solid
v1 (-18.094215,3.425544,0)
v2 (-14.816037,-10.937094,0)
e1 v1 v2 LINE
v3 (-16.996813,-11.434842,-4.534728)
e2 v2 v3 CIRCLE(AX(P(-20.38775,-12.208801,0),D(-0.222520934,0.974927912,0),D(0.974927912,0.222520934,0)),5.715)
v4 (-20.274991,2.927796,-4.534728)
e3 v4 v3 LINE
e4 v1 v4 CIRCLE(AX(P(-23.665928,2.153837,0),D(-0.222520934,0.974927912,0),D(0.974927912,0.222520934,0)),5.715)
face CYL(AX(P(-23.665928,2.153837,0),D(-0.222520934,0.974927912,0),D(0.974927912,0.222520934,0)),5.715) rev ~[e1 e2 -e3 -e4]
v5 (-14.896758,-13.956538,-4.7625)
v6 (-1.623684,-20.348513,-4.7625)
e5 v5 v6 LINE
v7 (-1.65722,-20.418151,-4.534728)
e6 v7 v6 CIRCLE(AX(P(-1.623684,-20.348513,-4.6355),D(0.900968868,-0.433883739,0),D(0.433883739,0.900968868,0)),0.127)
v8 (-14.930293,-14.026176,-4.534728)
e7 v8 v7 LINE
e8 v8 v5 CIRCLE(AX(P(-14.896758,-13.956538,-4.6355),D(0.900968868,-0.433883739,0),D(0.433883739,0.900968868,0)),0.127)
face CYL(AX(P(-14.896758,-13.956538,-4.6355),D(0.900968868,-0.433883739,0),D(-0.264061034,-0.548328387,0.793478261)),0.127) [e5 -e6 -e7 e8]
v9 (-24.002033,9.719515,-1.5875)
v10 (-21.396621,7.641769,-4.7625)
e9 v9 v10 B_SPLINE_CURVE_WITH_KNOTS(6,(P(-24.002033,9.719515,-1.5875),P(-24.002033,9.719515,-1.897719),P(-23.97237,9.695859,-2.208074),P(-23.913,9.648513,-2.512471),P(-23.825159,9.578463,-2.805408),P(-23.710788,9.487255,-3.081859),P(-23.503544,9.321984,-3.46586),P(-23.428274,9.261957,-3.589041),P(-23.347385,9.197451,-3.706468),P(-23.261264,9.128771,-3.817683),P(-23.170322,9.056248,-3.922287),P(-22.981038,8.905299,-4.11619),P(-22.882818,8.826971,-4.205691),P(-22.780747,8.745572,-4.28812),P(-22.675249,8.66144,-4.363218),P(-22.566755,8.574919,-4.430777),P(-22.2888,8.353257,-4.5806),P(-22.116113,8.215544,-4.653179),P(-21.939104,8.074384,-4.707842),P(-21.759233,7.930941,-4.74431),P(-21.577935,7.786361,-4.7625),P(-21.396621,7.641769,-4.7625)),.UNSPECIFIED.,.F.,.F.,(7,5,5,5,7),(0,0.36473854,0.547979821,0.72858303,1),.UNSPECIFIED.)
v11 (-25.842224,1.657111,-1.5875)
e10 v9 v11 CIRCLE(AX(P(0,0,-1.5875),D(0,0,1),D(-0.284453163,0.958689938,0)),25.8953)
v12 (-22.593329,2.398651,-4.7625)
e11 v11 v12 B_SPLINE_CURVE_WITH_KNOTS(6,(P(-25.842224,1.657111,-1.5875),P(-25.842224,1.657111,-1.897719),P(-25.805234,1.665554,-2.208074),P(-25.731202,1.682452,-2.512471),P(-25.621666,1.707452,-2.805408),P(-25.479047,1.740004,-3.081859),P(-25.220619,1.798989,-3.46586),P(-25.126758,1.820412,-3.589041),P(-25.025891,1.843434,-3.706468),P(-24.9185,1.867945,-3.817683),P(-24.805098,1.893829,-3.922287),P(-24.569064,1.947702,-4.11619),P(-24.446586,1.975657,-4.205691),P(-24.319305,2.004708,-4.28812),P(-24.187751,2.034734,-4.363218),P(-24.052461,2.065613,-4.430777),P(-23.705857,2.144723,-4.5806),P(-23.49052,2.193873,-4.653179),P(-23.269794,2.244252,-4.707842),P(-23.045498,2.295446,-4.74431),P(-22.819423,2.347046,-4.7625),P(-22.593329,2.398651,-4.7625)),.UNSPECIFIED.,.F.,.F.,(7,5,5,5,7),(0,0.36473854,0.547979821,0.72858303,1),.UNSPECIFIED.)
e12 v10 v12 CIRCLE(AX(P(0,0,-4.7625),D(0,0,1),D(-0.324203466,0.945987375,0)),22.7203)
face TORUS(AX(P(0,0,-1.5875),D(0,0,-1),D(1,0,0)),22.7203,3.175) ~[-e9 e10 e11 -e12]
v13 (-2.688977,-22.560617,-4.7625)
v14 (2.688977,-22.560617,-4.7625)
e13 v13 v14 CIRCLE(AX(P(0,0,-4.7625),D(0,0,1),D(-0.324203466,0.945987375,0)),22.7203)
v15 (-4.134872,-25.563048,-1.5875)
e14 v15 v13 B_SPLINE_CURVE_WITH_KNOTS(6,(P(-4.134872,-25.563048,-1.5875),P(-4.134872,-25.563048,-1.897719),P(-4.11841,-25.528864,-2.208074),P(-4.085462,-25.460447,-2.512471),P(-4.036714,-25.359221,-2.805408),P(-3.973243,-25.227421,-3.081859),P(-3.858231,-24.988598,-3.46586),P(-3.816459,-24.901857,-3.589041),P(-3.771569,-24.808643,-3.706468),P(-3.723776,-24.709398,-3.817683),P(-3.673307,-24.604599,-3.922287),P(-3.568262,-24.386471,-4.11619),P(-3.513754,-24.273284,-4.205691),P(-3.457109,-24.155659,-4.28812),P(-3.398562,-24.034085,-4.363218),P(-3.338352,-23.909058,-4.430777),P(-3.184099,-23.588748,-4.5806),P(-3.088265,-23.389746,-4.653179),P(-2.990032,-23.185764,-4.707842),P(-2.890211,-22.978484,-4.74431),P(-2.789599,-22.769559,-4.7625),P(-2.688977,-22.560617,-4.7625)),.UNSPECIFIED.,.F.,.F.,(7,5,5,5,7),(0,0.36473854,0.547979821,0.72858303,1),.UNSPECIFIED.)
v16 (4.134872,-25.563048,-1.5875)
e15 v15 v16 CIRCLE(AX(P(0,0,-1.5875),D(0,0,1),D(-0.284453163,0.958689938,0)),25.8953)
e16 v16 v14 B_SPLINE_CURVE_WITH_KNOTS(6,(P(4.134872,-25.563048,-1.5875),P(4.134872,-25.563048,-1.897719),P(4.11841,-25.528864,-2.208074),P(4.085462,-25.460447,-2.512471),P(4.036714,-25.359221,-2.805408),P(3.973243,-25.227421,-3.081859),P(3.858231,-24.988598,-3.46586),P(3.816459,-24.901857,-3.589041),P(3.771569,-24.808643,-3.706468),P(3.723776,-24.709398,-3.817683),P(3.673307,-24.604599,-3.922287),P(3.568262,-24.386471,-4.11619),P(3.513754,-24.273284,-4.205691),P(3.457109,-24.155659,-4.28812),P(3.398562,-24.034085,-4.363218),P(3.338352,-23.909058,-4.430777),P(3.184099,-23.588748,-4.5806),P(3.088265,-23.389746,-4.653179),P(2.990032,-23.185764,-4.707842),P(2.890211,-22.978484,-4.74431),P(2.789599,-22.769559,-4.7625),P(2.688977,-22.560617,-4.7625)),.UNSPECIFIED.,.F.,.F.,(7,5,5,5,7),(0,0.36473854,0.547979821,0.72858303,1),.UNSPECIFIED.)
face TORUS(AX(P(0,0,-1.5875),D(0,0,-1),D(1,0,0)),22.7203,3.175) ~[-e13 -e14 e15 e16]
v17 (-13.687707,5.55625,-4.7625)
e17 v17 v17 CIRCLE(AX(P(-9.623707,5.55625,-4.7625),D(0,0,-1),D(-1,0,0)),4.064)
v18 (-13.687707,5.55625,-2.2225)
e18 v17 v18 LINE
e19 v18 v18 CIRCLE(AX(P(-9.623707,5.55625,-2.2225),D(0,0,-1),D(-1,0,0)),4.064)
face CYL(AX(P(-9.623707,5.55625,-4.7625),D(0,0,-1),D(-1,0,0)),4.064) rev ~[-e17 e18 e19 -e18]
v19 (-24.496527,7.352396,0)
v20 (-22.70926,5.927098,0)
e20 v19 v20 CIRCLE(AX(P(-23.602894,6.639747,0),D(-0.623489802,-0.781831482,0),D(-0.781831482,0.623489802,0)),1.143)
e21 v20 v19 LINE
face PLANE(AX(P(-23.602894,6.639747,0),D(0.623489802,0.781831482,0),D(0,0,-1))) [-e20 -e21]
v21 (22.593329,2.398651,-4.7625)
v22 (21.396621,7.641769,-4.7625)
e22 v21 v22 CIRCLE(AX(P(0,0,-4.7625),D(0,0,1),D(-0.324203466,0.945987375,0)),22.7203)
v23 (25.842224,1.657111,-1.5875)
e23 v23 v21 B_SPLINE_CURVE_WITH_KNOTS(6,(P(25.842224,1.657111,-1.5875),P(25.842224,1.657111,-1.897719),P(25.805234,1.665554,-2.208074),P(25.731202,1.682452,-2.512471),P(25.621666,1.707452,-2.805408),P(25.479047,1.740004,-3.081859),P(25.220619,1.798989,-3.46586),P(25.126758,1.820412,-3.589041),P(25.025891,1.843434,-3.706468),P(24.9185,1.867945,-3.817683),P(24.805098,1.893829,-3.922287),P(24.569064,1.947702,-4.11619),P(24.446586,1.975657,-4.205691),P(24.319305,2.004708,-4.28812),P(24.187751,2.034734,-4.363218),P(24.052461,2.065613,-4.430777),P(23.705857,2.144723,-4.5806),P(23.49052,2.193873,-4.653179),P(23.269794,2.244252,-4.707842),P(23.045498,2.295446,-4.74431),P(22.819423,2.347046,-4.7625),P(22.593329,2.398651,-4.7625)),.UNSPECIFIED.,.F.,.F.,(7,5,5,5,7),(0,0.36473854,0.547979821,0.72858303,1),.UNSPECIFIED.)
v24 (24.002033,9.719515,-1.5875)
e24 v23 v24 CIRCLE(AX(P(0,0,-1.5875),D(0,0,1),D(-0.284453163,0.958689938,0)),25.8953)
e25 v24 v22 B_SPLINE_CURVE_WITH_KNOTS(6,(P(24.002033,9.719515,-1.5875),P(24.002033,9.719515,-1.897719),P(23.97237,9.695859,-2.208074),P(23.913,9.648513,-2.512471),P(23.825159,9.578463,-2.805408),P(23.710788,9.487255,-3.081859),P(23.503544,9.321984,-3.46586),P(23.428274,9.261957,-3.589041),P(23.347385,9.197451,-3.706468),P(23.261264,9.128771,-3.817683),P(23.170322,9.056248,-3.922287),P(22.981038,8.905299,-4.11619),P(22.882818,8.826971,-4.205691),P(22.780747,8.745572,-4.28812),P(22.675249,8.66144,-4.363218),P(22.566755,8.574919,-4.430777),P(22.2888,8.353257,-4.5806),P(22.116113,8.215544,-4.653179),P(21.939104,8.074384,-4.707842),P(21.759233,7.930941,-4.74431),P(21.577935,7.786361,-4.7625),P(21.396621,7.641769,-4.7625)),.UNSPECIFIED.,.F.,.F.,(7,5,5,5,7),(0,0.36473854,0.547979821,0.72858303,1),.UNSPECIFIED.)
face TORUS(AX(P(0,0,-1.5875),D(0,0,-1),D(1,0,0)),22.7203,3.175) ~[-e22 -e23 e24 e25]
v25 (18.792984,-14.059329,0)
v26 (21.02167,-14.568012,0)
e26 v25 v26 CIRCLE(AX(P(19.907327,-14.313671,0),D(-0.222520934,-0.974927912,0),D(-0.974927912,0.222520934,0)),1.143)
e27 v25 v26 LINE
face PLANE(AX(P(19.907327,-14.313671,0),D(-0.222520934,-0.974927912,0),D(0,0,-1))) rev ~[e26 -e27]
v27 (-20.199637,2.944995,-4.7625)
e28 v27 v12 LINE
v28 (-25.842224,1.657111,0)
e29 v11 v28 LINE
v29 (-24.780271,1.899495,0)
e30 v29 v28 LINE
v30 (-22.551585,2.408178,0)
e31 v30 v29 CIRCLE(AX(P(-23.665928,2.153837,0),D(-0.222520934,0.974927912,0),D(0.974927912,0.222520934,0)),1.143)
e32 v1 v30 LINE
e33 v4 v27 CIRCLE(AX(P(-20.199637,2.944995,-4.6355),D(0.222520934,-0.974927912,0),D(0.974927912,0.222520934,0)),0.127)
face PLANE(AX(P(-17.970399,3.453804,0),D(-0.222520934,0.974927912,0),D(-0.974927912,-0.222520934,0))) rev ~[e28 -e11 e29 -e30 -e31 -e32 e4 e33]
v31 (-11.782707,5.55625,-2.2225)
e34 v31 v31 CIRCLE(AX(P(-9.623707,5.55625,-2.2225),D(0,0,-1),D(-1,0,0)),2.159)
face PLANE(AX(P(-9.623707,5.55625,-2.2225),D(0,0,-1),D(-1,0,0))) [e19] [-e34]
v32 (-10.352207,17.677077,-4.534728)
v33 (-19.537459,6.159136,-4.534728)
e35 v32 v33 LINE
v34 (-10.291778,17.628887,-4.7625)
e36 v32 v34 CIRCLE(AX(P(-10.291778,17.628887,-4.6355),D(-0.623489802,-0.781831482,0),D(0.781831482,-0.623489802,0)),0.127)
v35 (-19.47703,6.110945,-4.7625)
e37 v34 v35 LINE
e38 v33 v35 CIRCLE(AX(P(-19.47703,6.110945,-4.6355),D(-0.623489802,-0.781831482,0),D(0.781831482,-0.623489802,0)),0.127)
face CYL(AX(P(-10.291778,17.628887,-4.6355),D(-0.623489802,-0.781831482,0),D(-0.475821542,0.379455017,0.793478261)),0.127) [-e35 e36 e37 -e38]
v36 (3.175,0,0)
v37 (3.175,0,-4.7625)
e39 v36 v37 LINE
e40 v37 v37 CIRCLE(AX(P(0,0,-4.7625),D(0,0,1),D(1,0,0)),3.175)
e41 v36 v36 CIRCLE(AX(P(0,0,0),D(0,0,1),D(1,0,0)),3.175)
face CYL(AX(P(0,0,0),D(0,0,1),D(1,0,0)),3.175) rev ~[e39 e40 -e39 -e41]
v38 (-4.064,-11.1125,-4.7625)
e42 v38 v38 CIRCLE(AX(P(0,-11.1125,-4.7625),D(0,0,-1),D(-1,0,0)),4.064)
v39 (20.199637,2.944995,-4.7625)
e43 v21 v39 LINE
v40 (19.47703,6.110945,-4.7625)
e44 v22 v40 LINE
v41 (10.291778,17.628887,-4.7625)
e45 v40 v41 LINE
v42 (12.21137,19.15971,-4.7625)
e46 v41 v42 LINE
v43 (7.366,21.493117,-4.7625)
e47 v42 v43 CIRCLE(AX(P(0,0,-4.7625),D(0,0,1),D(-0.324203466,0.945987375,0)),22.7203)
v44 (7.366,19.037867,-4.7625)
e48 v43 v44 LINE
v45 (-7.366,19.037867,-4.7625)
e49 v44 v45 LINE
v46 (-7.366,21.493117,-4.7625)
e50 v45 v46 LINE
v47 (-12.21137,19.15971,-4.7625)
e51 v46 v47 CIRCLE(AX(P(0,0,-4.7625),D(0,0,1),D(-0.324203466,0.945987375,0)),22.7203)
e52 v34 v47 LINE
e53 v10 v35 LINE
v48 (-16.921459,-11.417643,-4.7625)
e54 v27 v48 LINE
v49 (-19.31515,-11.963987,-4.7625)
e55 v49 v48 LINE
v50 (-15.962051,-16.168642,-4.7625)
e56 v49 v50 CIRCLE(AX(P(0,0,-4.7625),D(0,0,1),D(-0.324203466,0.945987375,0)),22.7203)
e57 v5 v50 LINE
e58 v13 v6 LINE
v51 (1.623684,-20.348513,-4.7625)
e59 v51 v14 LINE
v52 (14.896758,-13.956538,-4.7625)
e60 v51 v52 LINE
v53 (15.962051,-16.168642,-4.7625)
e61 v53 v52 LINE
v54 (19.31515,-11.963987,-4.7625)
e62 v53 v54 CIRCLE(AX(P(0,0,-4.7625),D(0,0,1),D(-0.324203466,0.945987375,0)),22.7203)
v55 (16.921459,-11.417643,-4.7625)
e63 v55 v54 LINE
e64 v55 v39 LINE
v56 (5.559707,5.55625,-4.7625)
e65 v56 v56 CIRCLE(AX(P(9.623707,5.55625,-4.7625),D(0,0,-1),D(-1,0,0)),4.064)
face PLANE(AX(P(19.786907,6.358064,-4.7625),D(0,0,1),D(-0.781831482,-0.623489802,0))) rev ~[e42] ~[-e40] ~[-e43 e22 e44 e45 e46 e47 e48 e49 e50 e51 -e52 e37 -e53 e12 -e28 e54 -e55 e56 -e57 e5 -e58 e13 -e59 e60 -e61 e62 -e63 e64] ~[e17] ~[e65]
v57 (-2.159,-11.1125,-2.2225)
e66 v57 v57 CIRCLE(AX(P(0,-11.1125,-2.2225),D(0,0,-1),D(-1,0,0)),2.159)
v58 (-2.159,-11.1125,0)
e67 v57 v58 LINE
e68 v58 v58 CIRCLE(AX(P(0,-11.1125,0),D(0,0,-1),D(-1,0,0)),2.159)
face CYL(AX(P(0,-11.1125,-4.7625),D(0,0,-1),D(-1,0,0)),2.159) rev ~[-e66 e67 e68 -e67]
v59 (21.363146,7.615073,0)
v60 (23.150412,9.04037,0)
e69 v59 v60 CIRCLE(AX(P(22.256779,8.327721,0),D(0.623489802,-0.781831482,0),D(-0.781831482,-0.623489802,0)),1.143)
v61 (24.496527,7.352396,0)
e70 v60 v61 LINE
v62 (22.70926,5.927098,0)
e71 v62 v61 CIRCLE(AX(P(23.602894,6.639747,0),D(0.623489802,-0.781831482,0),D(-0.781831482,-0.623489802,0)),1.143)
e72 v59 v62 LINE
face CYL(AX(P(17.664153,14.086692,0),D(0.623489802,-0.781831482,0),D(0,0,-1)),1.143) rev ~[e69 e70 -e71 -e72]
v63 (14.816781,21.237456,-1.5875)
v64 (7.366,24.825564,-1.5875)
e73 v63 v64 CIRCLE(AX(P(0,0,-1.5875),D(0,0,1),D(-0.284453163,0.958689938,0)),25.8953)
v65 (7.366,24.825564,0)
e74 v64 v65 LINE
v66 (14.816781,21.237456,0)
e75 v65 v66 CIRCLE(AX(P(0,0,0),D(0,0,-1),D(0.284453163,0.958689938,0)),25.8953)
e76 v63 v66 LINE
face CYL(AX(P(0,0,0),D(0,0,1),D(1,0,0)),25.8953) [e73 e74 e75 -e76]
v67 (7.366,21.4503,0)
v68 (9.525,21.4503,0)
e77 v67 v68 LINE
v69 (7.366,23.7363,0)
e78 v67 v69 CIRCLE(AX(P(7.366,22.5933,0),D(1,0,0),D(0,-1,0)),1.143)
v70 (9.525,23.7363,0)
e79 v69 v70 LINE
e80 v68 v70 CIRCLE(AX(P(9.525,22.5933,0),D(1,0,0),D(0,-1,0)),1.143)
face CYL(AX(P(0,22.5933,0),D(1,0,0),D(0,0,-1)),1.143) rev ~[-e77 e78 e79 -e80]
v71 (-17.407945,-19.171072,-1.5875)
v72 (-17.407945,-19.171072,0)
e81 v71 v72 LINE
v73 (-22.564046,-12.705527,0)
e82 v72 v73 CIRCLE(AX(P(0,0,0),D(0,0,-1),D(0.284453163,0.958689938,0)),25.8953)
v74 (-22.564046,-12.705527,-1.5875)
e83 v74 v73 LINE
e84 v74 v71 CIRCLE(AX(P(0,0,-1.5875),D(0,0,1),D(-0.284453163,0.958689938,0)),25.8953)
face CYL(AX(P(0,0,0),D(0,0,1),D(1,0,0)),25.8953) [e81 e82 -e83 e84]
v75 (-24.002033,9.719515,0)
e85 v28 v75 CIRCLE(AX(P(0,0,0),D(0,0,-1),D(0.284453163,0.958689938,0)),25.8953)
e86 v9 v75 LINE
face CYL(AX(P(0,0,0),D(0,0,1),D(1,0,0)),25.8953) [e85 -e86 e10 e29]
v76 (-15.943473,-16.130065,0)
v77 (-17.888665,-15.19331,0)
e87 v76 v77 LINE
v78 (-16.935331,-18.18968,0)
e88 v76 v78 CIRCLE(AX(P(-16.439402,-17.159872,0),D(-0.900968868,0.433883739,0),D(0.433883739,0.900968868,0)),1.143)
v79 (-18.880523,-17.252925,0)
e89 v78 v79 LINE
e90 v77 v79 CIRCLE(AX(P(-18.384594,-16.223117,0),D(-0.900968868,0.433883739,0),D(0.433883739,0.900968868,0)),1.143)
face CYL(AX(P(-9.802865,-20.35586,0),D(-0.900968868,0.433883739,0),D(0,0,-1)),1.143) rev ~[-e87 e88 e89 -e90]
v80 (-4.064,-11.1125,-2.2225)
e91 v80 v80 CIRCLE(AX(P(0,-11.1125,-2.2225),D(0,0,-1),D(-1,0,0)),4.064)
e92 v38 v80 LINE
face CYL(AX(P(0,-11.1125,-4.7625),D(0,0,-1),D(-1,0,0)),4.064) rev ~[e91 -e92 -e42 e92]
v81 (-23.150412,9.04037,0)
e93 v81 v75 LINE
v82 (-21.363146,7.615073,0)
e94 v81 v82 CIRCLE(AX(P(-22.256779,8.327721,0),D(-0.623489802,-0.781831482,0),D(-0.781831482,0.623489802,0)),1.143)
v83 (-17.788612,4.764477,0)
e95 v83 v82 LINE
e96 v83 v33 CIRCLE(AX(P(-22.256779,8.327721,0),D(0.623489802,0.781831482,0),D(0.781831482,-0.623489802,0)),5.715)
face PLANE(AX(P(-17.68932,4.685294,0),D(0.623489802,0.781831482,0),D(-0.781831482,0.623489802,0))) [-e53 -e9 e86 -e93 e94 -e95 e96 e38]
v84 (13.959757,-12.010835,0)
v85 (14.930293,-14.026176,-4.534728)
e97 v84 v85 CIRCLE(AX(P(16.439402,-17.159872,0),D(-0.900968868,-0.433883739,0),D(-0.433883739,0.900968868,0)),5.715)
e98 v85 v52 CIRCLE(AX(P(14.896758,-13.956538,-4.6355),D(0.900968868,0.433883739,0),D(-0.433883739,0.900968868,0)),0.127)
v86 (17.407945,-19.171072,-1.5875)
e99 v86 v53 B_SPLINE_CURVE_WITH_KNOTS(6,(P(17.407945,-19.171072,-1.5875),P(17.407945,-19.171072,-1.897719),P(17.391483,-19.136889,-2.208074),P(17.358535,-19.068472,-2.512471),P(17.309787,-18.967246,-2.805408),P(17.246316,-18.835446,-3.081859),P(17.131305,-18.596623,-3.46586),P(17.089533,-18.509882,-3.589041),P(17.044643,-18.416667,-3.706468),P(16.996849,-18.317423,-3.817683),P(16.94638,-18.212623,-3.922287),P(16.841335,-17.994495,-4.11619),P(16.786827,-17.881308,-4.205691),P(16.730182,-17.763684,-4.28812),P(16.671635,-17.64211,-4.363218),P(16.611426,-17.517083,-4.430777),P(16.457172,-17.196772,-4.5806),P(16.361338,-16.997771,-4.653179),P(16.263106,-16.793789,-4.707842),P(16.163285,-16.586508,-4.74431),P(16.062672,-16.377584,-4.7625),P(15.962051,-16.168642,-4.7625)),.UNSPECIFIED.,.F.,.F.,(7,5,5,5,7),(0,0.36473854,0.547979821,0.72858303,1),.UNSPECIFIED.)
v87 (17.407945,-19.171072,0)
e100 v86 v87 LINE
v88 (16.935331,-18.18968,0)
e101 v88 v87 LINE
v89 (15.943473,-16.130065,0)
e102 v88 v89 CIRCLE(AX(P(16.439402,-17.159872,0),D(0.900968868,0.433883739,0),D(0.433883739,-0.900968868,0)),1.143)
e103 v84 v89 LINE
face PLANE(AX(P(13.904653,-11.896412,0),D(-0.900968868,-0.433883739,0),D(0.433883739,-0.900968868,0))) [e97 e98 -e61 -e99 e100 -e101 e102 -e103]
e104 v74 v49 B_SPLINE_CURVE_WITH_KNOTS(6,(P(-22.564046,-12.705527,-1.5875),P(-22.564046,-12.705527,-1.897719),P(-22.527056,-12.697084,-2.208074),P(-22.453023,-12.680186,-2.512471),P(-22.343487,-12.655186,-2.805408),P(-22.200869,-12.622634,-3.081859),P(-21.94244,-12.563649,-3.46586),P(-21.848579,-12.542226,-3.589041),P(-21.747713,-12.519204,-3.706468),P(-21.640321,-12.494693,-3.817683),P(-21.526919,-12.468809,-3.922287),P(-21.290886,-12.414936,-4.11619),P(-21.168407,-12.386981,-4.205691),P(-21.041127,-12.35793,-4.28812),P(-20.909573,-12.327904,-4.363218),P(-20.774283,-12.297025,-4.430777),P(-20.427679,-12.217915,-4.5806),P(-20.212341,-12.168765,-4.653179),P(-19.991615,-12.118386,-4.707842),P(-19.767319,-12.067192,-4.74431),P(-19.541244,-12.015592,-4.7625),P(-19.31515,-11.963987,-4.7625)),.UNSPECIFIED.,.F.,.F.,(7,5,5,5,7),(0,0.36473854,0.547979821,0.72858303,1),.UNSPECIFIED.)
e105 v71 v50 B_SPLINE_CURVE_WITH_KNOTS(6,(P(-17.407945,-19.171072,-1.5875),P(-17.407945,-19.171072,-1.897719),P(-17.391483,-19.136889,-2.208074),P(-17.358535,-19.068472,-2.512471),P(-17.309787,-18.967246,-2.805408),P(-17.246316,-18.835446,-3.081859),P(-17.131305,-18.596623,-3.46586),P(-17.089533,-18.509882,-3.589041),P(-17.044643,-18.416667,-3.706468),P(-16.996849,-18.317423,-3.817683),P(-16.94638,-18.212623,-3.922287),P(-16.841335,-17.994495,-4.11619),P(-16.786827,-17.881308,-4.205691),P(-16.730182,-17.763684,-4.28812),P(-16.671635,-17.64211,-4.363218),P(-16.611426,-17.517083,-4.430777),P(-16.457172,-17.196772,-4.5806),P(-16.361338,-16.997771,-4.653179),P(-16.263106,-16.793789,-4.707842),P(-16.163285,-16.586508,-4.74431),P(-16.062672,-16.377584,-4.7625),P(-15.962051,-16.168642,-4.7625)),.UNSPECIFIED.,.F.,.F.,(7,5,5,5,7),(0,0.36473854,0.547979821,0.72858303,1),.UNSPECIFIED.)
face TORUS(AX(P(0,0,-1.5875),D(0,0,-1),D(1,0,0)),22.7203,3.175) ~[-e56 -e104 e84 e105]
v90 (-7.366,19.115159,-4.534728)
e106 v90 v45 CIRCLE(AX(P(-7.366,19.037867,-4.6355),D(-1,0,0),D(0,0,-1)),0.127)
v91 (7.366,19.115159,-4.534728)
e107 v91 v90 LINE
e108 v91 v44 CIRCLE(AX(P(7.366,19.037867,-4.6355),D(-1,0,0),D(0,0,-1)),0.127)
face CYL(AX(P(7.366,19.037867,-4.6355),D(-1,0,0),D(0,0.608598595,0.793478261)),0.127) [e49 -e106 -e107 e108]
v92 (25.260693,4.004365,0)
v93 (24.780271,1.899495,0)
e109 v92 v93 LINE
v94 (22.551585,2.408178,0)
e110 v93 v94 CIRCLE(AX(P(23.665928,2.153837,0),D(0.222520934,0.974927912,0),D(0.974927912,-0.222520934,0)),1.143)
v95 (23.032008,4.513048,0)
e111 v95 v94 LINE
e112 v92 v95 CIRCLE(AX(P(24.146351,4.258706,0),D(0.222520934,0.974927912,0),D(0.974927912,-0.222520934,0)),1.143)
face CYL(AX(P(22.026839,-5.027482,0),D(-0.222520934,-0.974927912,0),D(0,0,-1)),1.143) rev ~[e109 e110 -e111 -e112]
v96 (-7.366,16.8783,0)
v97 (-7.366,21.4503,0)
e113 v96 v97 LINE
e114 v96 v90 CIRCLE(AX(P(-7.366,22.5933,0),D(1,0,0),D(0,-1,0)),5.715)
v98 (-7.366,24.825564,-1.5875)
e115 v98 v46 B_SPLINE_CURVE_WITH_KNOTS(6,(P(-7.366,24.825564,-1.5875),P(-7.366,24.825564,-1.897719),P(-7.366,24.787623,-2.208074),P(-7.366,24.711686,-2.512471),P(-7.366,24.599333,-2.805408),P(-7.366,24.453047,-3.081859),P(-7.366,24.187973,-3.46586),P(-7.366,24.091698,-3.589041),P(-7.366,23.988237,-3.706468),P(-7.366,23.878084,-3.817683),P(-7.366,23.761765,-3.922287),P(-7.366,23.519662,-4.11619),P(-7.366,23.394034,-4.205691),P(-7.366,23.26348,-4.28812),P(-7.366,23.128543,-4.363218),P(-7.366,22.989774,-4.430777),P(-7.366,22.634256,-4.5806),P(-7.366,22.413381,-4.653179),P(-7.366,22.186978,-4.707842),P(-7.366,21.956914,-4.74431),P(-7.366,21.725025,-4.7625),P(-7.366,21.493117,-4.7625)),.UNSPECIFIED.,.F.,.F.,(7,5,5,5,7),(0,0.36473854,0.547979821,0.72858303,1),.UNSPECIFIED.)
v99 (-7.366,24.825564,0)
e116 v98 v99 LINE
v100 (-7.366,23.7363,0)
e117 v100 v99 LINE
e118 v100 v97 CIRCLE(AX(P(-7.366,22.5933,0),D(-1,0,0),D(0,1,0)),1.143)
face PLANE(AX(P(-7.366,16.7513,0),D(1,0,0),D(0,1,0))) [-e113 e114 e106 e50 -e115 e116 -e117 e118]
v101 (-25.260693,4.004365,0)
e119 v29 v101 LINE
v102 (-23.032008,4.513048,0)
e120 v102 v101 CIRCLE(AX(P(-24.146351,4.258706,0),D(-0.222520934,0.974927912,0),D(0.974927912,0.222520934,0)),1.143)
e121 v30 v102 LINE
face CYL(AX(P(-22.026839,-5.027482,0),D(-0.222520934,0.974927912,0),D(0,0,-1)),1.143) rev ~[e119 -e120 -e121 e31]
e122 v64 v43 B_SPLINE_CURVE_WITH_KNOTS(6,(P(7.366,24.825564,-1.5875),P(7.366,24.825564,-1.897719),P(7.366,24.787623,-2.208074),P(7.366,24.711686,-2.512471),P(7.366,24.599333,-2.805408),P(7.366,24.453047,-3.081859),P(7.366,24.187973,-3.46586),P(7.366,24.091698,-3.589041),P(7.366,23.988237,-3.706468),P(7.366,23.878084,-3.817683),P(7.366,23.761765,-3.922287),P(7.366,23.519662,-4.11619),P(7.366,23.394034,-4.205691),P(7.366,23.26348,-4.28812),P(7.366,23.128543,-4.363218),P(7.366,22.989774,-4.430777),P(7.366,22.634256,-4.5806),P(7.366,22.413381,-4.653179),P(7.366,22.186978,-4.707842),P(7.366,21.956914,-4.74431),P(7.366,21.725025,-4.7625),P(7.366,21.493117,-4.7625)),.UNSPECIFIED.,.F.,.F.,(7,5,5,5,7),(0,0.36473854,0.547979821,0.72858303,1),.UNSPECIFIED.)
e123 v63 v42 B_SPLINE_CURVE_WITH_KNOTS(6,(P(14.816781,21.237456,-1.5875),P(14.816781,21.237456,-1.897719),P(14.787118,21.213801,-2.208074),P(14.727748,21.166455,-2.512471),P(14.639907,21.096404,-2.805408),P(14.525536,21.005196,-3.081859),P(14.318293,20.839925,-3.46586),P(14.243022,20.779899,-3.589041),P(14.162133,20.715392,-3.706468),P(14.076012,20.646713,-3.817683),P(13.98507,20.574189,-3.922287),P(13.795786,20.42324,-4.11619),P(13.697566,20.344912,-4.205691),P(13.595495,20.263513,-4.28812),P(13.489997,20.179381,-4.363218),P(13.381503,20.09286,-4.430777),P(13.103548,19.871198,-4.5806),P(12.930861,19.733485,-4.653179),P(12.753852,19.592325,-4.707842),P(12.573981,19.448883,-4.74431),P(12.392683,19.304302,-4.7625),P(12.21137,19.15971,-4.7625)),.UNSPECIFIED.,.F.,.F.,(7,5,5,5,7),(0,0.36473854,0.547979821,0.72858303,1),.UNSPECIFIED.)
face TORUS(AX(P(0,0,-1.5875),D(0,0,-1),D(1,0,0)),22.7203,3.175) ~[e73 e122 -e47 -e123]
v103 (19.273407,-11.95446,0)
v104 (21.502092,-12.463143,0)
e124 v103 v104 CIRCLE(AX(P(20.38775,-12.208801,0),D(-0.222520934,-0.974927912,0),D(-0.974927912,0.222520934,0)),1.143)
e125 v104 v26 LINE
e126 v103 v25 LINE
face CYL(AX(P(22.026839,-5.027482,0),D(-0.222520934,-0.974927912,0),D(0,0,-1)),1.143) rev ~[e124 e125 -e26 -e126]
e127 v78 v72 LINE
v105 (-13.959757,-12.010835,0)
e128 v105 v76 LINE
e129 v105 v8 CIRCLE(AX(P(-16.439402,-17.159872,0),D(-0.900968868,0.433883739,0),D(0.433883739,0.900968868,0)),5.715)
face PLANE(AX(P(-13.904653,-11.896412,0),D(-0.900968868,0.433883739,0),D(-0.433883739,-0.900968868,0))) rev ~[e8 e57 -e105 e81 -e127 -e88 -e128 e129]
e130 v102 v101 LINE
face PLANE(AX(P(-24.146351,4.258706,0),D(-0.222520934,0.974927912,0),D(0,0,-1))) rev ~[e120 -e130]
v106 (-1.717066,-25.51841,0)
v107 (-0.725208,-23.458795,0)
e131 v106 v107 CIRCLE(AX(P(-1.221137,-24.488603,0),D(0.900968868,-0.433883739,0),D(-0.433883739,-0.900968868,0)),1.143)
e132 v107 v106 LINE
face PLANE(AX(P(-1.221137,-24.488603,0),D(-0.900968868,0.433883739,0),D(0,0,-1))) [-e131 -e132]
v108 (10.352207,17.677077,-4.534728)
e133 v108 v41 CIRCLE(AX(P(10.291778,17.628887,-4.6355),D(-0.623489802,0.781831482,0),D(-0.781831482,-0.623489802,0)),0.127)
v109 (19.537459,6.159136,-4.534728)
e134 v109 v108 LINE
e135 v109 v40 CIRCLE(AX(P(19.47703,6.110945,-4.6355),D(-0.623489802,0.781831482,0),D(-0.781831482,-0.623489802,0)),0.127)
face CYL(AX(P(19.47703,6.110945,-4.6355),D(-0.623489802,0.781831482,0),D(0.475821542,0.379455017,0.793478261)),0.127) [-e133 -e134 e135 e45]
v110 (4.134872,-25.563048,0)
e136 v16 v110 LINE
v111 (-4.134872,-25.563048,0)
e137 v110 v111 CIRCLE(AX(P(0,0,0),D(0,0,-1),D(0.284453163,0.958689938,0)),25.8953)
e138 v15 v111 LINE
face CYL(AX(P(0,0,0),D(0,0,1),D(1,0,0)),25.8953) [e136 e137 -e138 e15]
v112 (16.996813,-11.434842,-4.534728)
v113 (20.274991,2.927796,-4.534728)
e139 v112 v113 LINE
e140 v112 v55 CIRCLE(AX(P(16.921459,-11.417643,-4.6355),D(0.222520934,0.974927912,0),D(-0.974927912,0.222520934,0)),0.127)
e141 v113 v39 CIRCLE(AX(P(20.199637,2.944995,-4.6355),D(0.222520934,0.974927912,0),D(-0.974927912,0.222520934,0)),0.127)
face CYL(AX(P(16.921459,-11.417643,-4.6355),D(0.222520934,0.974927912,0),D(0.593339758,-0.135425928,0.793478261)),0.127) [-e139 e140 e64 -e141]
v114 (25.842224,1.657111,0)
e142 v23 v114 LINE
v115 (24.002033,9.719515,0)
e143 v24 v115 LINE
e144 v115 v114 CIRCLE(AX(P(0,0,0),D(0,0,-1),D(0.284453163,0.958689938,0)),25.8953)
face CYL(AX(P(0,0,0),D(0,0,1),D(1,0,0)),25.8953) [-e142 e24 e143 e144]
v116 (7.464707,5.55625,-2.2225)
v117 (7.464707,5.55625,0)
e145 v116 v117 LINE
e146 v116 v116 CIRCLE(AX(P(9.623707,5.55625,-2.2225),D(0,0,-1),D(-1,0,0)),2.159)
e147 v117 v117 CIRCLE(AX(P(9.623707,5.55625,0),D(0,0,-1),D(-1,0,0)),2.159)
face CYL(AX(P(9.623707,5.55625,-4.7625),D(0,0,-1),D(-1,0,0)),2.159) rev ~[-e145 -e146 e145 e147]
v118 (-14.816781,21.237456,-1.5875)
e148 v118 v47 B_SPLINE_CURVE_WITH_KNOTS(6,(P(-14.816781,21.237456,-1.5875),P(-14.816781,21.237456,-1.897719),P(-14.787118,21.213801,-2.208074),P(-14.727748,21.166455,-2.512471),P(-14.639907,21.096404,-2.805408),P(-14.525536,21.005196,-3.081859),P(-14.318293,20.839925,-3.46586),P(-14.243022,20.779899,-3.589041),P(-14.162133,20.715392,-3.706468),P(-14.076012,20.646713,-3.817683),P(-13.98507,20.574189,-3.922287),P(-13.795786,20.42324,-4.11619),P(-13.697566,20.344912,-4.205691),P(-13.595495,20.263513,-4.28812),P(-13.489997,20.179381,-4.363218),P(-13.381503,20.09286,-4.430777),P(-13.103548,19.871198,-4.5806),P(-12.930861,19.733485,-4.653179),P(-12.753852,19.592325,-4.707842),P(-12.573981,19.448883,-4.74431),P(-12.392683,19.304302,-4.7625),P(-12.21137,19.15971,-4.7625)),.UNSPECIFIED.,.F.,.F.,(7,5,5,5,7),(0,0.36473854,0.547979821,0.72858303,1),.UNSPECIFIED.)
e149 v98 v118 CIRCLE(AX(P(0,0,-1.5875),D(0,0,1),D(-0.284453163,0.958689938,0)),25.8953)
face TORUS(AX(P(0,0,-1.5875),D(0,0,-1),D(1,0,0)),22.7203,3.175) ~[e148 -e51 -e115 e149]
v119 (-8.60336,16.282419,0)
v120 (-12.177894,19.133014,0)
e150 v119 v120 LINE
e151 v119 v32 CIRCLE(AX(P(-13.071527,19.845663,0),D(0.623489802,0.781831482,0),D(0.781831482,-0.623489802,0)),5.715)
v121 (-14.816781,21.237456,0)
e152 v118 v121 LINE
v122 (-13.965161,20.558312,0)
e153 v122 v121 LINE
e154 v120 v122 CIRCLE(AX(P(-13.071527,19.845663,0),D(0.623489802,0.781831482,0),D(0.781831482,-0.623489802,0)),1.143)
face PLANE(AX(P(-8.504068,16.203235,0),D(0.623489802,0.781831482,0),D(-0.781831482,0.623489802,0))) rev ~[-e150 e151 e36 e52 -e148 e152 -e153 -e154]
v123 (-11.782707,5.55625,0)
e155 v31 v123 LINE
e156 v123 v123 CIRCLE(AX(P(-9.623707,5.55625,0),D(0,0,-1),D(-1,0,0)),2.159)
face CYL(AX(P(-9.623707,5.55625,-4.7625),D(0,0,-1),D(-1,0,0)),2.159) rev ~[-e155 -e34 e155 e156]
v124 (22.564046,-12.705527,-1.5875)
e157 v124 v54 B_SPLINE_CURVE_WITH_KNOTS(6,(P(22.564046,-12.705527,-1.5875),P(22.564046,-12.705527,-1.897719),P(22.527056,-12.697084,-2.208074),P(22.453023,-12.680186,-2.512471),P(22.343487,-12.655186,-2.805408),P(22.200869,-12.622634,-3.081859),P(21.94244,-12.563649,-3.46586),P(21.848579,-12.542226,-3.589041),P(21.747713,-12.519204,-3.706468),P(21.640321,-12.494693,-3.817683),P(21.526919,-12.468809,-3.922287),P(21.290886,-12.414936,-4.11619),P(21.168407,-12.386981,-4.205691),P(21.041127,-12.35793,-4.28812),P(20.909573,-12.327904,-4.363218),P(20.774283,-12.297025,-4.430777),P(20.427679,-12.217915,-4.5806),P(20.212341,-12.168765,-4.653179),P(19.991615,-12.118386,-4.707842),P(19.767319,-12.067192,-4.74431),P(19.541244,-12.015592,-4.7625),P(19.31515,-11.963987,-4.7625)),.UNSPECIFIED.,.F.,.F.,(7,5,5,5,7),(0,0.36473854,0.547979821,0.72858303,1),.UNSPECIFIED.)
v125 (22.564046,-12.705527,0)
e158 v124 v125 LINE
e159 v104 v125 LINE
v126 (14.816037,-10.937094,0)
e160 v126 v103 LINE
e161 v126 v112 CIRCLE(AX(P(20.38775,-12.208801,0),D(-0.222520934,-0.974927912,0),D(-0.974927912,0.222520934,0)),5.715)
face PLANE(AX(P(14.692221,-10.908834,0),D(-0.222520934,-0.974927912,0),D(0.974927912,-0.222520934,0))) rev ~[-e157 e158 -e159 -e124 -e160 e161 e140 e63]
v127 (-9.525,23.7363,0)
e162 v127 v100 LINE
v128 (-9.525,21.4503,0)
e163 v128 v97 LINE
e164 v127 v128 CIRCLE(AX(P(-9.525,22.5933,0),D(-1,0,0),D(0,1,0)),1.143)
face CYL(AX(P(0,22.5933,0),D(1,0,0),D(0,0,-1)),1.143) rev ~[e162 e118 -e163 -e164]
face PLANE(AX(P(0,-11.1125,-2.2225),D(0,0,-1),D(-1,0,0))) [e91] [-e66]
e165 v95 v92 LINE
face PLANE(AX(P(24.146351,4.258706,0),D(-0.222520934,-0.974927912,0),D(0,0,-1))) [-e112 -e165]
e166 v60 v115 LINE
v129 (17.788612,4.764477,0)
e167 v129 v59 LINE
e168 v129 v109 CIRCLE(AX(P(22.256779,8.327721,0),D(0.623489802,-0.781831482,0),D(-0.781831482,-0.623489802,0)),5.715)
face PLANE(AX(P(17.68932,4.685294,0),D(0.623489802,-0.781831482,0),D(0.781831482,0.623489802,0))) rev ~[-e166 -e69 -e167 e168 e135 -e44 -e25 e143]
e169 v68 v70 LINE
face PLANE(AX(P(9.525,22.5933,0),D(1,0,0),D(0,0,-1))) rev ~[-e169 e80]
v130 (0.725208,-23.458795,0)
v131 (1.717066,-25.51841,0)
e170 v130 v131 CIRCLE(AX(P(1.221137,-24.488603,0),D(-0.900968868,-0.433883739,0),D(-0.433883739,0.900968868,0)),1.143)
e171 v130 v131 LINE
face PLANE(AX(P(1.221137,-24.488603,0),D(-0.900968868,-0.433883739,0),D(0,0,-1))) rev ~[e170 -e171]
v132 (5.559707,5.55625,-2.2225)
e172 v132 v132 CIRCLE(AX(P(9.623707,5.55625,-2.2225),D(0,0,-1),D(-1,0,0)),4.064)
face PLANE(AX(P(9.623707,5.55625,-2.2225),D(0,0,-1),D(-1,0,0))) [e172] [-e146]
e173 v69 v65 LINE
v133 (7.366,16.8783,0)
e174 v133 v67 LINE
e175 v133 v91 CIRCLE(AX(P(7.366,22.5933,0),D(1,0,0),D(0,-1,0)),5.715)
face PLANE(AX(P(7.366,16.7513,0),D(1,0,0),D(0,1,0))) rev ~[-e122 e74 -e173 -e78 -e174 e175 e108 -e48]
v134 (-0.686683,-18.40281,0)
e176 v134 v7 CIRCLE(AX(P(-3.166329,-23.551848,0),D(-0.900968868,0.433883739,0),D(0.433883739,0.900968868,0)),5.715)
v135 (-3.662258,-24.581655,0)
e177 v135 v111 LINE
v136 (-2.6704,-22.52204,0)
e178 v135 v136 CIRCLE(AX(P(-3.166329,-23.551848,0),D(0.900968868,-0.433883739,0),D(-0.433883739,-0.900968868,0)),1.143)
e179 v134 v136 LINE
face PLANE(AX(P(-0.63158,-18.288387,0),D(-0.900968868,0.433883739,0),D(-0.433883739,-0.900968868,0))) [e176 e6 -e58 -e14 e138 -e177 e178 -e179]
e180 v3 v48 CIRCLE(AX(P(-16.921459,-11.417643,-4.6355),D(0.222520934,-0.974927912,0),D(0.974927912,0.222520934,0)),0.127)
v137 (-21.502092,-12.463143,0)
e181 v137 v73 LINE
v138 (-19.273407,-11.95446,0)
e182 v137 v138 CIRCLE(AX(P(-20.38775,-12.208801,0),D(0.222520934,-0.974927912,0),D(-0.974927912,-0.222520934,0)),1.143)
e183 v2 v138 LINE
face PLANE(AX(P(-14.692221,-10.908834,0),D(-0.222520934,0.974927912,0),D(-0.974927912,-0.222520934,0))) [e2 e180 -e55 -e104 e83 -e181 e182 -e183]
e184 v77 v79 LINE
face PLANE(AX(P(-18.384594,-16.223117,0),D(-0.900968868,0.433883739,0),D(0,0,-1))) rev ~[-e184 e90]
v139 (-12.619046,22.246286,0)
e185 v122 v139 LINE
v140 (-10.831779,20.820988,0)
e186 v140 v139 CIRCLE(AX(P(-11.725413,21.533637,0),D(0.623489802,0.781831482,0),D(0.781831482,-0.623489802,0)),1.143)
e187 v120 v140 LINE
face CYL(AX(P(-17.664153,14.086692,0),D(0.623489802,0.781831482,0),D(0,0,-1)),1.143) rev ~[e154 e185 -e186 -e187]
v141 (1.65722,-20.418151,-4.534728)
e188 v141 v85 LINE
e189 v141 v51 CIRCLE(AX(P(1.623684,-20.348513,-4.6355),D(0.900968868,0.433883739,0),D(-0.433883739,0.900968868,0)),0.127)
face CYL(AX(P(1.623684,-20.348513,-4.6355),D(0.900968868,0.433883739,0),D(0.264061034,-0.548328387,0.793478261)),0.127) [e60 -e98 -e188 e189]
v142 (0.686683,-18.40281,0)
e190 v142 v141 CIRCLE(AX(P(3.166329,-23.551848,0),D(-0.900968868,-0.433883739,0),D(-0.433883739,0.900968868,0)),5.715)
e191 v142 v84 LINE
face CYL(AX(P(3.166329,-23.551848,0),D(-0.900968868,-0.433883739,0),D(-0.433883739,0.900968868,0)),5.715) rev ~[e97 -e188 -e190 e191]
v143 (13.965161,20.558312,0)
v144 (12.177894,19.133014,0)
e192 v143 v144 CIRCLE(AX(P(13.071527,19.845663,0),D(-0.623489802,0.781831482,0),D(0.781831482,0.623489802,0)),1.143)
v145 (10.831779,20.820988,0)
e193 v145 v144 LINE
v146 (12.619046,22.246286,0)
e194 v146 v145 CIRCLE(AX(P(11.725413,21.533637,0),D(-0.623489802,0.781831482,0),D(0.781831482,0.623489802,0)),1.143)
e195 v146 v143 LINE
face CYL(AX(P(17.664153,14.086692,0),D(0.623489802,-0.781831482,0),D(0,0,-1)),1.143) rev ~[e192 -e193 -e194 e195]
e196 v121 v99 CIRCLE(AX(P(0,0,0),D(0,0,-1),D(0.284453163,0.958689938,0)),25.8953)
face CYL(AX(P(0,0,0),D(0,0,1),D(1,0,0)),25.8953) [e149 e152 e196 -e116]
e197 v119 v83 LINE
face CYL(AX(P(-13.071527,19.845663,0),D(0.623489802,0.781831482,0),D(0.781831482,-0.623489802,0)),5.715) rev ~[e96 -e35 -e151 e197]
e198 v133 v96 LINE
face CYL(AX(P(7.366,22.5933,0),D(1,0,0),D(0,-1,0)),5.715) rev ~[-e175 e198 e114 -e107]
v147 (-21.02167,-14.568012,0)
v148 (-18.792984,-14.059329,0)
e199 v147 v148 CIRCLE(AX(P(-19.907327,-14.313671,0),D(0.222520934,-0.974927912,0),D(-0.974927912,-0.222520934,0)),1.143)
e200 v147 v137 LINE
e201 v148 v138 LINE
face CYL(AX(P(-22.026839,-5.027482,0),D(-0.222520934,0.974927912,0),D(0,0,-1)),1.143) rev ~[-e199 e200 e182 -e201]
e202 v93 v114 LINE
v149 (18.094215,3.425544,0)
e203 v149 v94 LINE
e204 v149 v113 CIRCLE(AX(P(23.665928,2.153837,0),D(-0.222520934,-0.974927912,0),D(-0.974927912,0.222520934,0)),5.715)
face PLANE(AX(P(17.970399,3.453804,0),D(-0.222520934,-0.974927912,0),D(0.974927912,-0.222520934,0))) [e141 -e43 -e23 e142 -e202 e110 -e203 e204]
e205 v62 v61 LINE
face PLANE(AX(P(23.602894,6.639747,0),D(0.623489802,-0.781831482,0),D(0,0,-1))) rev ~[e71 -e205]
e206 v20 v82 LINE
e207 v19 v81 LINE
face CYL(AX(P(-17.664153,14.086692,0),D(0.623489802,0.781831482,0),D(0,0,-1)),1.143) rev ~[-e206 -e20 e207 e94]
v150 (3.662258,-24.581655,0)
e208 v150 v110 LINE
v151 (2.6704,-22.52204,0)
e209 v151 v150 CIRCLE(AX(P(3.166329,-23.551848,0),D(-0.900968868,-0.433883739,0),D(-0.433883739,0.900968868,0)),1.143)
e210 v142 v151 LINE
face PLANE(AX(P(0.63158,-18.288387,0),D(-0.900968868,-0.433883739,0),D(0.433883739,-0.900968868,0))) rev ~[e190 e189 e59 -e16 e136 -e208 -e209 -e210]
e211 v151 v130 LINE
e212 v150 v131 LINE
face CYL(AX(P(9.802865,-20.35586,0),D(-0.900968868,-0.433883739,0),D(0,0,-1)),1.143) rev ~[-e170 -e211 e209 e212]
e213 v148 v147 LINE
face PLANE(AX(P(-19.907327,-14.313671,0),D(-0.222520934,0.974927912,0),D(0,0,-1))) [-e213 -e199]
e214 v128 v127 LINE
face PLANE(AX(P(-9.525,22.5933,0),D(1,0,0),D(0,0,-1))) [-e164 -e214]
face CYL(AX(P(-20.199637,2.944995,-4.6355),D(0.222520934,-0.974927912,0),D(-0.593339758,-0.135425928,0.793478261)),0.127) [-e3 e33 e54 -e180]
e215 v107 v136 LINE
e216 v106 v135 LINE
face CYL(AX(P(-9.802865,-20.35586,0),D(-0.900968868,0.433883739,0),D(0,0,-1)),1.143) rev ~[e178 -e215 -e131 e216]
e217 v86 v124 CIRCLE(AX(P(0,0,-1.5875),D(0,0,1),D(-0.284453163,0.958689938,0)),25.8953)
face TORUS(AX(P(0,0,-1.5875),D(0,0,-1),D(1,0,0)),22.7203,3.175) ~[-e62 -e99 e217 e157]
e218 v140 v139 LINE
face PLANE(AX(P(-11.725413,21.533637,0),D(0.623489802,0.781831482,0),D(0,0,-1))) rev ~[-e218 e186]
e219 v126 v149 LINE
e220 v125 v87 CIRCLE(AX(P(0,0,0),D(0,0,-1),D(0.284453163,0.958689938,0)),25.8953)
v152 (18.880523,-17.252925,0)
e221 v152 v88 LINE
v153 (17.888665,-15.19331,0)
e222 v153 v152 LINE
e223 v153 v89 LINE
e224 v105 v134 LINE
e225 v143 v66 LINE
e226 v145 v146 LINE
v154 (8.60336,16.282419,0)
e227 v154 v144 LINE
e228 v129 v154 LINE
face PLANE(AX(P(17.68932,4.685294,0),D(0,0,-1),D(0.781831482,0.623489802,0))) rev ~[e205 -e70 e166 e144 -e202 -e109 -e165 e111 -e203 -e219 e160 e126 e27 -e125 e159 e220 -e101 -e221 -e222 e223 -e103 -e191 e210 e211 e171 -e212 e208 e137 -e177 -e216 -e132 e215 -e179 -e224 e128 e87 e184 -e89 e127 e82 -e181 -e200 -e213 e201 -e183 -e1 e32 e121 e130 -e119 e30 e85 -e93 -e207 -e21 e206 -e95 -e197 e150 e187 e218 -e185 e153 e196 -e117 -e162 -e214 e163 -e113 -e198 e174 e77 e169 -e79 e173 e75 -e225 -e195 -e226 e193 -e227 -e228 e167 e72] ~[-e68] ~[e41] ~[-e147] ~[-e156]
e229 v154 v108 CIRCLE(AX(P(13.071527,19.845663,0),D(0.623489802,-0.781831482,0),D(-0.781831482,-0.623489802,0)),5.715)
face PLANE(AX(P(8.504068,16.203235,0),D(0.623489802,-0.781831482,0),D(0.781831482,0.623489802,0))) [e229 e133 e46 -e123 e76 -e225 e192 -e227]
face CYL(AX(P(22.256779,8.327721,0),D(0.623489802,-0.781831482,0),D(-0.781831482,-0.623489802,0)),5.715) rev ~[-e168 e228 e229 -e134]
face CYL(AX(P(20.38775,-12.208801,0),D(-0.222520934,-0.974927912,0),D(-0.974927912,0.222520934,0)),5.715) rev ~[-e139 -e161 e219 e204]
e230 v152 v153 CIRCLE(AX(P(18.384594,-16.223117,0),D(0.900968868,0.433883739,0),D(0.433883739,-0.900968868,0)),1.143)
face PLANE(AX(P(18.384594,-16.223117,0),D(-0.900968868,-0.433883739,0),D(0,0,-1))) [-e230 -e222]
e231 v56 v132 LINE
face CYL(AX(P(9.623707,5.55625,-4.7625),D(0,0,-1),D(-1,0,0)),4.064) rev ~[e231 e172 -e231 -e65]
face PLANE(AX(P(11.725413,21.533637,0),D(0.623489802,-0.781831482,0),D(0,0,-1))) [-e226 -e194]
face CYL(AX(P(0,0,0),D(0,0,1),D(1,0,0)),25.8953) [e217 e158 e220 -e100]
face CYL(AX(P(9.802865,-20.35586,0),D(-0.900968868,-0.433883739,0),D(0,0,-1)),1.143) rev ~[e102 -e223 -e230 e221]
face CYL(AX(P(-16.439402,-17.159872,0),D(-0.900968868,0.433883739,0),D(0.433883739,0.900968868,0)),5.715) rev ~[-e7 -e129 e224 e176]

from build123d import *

# Parameters (mm, degrees)
SKETCH1_R                = 25.8953
BOSS_EXTRUDE2_DEPTH      = 4.7625
FILLET1_R                = 3.175
SKETCH2_W                = 14.732
SKETCH2_H                = 10.414
CUT_EXTRUDE2_DEPTH       = 12.7
CIRPATTERN1_COUNT        = 7
SKETCH4_R                = 1.143
CUT_EXTRUDE4_DEPTH       = 9.525
CIRPATTERN2_COUNT        = 7
SKETCH5_R                = 3.175
CUT_EXTRUDE5_DEPTH       = 37.89266219
SKETCH6_R                = 2.159
CUT_EXTRUDE7_DEPTH       = 37.89266219
SKETCH7_R                = 4.064
CUT_EXTRUDE8_DEPTH       = 2.54
BOSS_EXTRUDE4_REACH      = 44.38
FILLET2_R                = 0.127
CIRPATTERN5_COUNT        = 7
FILLET2_OF_CIRPATTERN5_R = 0.127


with BuildPart() as part:
    # Sketch1 → Boss-Extrude2 (new body)
    with BuildSketch(Plane.XY):
        Circle(SKETCH1_R)
    extrude(amount=-BOSS_EXTRUDE2_DEPTH)

    # Fillet1
    fillet1_edges = [part.edges().sort_by_distance(p)[0] for p in [
        (-25.8953, 0, -4.7625),
    ]]
    fillet(fillet1_edges, radius=FILLET1_R)

    # Sketch2 → Cut-Extrude2 (cut)
    with BuildSketch(Plane.XY):
        with Locations((0, 21.9583)):
            Rectangle(SKETCH2_W, SKETCH2_H)
    cut_extrude2 = extrude(amount=-CUT_EXTRUDE2_DEPTH, mode=Mode.SUBTRACT)

    # CirPattern1: Cut-Extrude2 ×7 about axis
    cirpattern1_axis = Axis((0, 0, 0), (0, 0, 1))
    for i in range(1, CIRPATTERN1_COUNT):
        add(cut_extrude2.rotate(cirpattern1_axis, i * 360 / CIRPATTERN1_COUNT), mode=Mode.SUBTRACT)

    # Sketch4 → Cut-Extrude4 (cut, symmetric)
    with BuildSketch(Plane(origin=(0, 0, 0), x_dir=(0, 0, -1), z_dir=(1, 0, 0))):
        with Locations((0, 22.5933)):
            Circle(SKETCH4_R)
    cut_extrude4 = extrude(amount=CUT_EXTRUDE4_DEPTH, both=True, mode=Mode.SUBTRACT)

    # CirPattern2: Cut-Extrude4 ×7 about axis
    cirpattern2_axis = Axis((0, 0, 0), (0, 0, 1))
    for i in range(1, CIRPATTERN2_COUNT):
        add(cut_extrude4.rotate(cirpattern2_axis, i * 360 / CIRPATTERN2_COUNT), mode=Mode.SUBTRACT)

    # Sketch5 → Cut-Extrude5 (cut, through all)
    with BuildSketch(Plane.XY):
        Circle(SKETCH5_R)
    extrude(amount=-CUT_EXTRUDE5_DEPTH, mode=Mode.SUBTRACT)

    # Sketch6 → Cut-Extrude7 (cut, through all)
    with BuildSketch(Plane(origin=(0, 0, -4.7625), x_dir=(-1, 0, 0), z_dir=(0, 0, -1))):
        with Locations((0, -11.1125)):
            Circle(SKETCH6_R)
        with Locations((-9.6237073, 5.55625)):
            Circle(SKETCH6_R)
        with Locations((9.6237073, 5.55625)):
            Circle(SKETCH6_R)
    extrude(amount=-CUT_EXTRUDE7_DEPTH, mode=Mode.SUBTRACT)

    # Sketch7 → Cut-Extrude8 (cut)
    with BuildSketch(Plane(origin=(0, 0, -4.7625), x_dir=(-1, 0, 0), z_dir=(0, 0, -1))):
        with Locations((9.6237073, 5.55625)):
            Circle(SKETCH7_R)
        with Locations((0, -11.1125)):
            Circle(SKETCH7_R)
        with Locations((-9.6237073, 5.55625)):
            Circle(SKETCH7_R)
    extrude(amount=-CUT_EXTRUDE8_DEPTH, mode=Mode.SUBTRACT)

    # Sketch10 → Boss-Extrude4 (add, up to next)
    with BuildSketch(Plane.ZY.offset(-7.366), mode=Mode.PRIVATE) as boss_extrude4_sk1:
        with BuildLine():
            Line((-4.7625, 16.7513), (0, 16.7513))
            Line((0, 16.7513), (0, 16.8783))
            ThreePointArc((0, 16.8783), (-2.7025038, 17.55765722), (-4.7625, 19.434214887))
            Line((-4.7625, 19.434214887), (-4.7625, 16.7513))
        make_face()
    boss_extrude4_tool1 = extrude(boss_extrude4_sk1.sketch, amount=BOSS_EXTRUDE4_REACH, mode=Mode.PRIVATE) - part.part
    boss_extrude4 = boss_extrude4_tool1.solids().sort_by_distance((7.366, 17.489807, -3.452063))[0]
    add(boss_extrude4)

    # Fillet2
    fillet2_edges = [part.edges().sort_by_distance(p)[0] for p in [
        (0, 19.434214887, -4.7625),
    ]]
    fillet(fillet2_edges, radius=FILLET2_R)

    # CirPattern5: Boss-Extrude4 ×7 about axis
    cirpattern5_axis = Axis((0, 0, 0), (0, 0, 1))
    for i in range(1, CIRPATTERN5_COUNT):
        add(boss_extrude4.rotate(cirpattern5_axis, i * 360 / CIRPATTERN5_COUNT))

    # Fillet2 of CirPattern5
    fillet2_of_cirpattern5_edges = [part.edges().sort_by_distance(p)[0] for p in [
        (-15.194281036, 12.117034789, -4.7625),
        (-18.946958545, -4.324519647, -4.7625),
        (-8.432189822, -17.509622585, -4.7625),
        (8.432189822, -17.509622585, -4.7625),
        (18.946958545, -4.324519647, -4.7625),
        (15.194281036, 12.117034789, -4.7625),
    ]]
    fillet(fillet2_of_cirpattern5_edges, radius=FILLET2_OF_CIRPATTERN5_R)


solid = part.part
